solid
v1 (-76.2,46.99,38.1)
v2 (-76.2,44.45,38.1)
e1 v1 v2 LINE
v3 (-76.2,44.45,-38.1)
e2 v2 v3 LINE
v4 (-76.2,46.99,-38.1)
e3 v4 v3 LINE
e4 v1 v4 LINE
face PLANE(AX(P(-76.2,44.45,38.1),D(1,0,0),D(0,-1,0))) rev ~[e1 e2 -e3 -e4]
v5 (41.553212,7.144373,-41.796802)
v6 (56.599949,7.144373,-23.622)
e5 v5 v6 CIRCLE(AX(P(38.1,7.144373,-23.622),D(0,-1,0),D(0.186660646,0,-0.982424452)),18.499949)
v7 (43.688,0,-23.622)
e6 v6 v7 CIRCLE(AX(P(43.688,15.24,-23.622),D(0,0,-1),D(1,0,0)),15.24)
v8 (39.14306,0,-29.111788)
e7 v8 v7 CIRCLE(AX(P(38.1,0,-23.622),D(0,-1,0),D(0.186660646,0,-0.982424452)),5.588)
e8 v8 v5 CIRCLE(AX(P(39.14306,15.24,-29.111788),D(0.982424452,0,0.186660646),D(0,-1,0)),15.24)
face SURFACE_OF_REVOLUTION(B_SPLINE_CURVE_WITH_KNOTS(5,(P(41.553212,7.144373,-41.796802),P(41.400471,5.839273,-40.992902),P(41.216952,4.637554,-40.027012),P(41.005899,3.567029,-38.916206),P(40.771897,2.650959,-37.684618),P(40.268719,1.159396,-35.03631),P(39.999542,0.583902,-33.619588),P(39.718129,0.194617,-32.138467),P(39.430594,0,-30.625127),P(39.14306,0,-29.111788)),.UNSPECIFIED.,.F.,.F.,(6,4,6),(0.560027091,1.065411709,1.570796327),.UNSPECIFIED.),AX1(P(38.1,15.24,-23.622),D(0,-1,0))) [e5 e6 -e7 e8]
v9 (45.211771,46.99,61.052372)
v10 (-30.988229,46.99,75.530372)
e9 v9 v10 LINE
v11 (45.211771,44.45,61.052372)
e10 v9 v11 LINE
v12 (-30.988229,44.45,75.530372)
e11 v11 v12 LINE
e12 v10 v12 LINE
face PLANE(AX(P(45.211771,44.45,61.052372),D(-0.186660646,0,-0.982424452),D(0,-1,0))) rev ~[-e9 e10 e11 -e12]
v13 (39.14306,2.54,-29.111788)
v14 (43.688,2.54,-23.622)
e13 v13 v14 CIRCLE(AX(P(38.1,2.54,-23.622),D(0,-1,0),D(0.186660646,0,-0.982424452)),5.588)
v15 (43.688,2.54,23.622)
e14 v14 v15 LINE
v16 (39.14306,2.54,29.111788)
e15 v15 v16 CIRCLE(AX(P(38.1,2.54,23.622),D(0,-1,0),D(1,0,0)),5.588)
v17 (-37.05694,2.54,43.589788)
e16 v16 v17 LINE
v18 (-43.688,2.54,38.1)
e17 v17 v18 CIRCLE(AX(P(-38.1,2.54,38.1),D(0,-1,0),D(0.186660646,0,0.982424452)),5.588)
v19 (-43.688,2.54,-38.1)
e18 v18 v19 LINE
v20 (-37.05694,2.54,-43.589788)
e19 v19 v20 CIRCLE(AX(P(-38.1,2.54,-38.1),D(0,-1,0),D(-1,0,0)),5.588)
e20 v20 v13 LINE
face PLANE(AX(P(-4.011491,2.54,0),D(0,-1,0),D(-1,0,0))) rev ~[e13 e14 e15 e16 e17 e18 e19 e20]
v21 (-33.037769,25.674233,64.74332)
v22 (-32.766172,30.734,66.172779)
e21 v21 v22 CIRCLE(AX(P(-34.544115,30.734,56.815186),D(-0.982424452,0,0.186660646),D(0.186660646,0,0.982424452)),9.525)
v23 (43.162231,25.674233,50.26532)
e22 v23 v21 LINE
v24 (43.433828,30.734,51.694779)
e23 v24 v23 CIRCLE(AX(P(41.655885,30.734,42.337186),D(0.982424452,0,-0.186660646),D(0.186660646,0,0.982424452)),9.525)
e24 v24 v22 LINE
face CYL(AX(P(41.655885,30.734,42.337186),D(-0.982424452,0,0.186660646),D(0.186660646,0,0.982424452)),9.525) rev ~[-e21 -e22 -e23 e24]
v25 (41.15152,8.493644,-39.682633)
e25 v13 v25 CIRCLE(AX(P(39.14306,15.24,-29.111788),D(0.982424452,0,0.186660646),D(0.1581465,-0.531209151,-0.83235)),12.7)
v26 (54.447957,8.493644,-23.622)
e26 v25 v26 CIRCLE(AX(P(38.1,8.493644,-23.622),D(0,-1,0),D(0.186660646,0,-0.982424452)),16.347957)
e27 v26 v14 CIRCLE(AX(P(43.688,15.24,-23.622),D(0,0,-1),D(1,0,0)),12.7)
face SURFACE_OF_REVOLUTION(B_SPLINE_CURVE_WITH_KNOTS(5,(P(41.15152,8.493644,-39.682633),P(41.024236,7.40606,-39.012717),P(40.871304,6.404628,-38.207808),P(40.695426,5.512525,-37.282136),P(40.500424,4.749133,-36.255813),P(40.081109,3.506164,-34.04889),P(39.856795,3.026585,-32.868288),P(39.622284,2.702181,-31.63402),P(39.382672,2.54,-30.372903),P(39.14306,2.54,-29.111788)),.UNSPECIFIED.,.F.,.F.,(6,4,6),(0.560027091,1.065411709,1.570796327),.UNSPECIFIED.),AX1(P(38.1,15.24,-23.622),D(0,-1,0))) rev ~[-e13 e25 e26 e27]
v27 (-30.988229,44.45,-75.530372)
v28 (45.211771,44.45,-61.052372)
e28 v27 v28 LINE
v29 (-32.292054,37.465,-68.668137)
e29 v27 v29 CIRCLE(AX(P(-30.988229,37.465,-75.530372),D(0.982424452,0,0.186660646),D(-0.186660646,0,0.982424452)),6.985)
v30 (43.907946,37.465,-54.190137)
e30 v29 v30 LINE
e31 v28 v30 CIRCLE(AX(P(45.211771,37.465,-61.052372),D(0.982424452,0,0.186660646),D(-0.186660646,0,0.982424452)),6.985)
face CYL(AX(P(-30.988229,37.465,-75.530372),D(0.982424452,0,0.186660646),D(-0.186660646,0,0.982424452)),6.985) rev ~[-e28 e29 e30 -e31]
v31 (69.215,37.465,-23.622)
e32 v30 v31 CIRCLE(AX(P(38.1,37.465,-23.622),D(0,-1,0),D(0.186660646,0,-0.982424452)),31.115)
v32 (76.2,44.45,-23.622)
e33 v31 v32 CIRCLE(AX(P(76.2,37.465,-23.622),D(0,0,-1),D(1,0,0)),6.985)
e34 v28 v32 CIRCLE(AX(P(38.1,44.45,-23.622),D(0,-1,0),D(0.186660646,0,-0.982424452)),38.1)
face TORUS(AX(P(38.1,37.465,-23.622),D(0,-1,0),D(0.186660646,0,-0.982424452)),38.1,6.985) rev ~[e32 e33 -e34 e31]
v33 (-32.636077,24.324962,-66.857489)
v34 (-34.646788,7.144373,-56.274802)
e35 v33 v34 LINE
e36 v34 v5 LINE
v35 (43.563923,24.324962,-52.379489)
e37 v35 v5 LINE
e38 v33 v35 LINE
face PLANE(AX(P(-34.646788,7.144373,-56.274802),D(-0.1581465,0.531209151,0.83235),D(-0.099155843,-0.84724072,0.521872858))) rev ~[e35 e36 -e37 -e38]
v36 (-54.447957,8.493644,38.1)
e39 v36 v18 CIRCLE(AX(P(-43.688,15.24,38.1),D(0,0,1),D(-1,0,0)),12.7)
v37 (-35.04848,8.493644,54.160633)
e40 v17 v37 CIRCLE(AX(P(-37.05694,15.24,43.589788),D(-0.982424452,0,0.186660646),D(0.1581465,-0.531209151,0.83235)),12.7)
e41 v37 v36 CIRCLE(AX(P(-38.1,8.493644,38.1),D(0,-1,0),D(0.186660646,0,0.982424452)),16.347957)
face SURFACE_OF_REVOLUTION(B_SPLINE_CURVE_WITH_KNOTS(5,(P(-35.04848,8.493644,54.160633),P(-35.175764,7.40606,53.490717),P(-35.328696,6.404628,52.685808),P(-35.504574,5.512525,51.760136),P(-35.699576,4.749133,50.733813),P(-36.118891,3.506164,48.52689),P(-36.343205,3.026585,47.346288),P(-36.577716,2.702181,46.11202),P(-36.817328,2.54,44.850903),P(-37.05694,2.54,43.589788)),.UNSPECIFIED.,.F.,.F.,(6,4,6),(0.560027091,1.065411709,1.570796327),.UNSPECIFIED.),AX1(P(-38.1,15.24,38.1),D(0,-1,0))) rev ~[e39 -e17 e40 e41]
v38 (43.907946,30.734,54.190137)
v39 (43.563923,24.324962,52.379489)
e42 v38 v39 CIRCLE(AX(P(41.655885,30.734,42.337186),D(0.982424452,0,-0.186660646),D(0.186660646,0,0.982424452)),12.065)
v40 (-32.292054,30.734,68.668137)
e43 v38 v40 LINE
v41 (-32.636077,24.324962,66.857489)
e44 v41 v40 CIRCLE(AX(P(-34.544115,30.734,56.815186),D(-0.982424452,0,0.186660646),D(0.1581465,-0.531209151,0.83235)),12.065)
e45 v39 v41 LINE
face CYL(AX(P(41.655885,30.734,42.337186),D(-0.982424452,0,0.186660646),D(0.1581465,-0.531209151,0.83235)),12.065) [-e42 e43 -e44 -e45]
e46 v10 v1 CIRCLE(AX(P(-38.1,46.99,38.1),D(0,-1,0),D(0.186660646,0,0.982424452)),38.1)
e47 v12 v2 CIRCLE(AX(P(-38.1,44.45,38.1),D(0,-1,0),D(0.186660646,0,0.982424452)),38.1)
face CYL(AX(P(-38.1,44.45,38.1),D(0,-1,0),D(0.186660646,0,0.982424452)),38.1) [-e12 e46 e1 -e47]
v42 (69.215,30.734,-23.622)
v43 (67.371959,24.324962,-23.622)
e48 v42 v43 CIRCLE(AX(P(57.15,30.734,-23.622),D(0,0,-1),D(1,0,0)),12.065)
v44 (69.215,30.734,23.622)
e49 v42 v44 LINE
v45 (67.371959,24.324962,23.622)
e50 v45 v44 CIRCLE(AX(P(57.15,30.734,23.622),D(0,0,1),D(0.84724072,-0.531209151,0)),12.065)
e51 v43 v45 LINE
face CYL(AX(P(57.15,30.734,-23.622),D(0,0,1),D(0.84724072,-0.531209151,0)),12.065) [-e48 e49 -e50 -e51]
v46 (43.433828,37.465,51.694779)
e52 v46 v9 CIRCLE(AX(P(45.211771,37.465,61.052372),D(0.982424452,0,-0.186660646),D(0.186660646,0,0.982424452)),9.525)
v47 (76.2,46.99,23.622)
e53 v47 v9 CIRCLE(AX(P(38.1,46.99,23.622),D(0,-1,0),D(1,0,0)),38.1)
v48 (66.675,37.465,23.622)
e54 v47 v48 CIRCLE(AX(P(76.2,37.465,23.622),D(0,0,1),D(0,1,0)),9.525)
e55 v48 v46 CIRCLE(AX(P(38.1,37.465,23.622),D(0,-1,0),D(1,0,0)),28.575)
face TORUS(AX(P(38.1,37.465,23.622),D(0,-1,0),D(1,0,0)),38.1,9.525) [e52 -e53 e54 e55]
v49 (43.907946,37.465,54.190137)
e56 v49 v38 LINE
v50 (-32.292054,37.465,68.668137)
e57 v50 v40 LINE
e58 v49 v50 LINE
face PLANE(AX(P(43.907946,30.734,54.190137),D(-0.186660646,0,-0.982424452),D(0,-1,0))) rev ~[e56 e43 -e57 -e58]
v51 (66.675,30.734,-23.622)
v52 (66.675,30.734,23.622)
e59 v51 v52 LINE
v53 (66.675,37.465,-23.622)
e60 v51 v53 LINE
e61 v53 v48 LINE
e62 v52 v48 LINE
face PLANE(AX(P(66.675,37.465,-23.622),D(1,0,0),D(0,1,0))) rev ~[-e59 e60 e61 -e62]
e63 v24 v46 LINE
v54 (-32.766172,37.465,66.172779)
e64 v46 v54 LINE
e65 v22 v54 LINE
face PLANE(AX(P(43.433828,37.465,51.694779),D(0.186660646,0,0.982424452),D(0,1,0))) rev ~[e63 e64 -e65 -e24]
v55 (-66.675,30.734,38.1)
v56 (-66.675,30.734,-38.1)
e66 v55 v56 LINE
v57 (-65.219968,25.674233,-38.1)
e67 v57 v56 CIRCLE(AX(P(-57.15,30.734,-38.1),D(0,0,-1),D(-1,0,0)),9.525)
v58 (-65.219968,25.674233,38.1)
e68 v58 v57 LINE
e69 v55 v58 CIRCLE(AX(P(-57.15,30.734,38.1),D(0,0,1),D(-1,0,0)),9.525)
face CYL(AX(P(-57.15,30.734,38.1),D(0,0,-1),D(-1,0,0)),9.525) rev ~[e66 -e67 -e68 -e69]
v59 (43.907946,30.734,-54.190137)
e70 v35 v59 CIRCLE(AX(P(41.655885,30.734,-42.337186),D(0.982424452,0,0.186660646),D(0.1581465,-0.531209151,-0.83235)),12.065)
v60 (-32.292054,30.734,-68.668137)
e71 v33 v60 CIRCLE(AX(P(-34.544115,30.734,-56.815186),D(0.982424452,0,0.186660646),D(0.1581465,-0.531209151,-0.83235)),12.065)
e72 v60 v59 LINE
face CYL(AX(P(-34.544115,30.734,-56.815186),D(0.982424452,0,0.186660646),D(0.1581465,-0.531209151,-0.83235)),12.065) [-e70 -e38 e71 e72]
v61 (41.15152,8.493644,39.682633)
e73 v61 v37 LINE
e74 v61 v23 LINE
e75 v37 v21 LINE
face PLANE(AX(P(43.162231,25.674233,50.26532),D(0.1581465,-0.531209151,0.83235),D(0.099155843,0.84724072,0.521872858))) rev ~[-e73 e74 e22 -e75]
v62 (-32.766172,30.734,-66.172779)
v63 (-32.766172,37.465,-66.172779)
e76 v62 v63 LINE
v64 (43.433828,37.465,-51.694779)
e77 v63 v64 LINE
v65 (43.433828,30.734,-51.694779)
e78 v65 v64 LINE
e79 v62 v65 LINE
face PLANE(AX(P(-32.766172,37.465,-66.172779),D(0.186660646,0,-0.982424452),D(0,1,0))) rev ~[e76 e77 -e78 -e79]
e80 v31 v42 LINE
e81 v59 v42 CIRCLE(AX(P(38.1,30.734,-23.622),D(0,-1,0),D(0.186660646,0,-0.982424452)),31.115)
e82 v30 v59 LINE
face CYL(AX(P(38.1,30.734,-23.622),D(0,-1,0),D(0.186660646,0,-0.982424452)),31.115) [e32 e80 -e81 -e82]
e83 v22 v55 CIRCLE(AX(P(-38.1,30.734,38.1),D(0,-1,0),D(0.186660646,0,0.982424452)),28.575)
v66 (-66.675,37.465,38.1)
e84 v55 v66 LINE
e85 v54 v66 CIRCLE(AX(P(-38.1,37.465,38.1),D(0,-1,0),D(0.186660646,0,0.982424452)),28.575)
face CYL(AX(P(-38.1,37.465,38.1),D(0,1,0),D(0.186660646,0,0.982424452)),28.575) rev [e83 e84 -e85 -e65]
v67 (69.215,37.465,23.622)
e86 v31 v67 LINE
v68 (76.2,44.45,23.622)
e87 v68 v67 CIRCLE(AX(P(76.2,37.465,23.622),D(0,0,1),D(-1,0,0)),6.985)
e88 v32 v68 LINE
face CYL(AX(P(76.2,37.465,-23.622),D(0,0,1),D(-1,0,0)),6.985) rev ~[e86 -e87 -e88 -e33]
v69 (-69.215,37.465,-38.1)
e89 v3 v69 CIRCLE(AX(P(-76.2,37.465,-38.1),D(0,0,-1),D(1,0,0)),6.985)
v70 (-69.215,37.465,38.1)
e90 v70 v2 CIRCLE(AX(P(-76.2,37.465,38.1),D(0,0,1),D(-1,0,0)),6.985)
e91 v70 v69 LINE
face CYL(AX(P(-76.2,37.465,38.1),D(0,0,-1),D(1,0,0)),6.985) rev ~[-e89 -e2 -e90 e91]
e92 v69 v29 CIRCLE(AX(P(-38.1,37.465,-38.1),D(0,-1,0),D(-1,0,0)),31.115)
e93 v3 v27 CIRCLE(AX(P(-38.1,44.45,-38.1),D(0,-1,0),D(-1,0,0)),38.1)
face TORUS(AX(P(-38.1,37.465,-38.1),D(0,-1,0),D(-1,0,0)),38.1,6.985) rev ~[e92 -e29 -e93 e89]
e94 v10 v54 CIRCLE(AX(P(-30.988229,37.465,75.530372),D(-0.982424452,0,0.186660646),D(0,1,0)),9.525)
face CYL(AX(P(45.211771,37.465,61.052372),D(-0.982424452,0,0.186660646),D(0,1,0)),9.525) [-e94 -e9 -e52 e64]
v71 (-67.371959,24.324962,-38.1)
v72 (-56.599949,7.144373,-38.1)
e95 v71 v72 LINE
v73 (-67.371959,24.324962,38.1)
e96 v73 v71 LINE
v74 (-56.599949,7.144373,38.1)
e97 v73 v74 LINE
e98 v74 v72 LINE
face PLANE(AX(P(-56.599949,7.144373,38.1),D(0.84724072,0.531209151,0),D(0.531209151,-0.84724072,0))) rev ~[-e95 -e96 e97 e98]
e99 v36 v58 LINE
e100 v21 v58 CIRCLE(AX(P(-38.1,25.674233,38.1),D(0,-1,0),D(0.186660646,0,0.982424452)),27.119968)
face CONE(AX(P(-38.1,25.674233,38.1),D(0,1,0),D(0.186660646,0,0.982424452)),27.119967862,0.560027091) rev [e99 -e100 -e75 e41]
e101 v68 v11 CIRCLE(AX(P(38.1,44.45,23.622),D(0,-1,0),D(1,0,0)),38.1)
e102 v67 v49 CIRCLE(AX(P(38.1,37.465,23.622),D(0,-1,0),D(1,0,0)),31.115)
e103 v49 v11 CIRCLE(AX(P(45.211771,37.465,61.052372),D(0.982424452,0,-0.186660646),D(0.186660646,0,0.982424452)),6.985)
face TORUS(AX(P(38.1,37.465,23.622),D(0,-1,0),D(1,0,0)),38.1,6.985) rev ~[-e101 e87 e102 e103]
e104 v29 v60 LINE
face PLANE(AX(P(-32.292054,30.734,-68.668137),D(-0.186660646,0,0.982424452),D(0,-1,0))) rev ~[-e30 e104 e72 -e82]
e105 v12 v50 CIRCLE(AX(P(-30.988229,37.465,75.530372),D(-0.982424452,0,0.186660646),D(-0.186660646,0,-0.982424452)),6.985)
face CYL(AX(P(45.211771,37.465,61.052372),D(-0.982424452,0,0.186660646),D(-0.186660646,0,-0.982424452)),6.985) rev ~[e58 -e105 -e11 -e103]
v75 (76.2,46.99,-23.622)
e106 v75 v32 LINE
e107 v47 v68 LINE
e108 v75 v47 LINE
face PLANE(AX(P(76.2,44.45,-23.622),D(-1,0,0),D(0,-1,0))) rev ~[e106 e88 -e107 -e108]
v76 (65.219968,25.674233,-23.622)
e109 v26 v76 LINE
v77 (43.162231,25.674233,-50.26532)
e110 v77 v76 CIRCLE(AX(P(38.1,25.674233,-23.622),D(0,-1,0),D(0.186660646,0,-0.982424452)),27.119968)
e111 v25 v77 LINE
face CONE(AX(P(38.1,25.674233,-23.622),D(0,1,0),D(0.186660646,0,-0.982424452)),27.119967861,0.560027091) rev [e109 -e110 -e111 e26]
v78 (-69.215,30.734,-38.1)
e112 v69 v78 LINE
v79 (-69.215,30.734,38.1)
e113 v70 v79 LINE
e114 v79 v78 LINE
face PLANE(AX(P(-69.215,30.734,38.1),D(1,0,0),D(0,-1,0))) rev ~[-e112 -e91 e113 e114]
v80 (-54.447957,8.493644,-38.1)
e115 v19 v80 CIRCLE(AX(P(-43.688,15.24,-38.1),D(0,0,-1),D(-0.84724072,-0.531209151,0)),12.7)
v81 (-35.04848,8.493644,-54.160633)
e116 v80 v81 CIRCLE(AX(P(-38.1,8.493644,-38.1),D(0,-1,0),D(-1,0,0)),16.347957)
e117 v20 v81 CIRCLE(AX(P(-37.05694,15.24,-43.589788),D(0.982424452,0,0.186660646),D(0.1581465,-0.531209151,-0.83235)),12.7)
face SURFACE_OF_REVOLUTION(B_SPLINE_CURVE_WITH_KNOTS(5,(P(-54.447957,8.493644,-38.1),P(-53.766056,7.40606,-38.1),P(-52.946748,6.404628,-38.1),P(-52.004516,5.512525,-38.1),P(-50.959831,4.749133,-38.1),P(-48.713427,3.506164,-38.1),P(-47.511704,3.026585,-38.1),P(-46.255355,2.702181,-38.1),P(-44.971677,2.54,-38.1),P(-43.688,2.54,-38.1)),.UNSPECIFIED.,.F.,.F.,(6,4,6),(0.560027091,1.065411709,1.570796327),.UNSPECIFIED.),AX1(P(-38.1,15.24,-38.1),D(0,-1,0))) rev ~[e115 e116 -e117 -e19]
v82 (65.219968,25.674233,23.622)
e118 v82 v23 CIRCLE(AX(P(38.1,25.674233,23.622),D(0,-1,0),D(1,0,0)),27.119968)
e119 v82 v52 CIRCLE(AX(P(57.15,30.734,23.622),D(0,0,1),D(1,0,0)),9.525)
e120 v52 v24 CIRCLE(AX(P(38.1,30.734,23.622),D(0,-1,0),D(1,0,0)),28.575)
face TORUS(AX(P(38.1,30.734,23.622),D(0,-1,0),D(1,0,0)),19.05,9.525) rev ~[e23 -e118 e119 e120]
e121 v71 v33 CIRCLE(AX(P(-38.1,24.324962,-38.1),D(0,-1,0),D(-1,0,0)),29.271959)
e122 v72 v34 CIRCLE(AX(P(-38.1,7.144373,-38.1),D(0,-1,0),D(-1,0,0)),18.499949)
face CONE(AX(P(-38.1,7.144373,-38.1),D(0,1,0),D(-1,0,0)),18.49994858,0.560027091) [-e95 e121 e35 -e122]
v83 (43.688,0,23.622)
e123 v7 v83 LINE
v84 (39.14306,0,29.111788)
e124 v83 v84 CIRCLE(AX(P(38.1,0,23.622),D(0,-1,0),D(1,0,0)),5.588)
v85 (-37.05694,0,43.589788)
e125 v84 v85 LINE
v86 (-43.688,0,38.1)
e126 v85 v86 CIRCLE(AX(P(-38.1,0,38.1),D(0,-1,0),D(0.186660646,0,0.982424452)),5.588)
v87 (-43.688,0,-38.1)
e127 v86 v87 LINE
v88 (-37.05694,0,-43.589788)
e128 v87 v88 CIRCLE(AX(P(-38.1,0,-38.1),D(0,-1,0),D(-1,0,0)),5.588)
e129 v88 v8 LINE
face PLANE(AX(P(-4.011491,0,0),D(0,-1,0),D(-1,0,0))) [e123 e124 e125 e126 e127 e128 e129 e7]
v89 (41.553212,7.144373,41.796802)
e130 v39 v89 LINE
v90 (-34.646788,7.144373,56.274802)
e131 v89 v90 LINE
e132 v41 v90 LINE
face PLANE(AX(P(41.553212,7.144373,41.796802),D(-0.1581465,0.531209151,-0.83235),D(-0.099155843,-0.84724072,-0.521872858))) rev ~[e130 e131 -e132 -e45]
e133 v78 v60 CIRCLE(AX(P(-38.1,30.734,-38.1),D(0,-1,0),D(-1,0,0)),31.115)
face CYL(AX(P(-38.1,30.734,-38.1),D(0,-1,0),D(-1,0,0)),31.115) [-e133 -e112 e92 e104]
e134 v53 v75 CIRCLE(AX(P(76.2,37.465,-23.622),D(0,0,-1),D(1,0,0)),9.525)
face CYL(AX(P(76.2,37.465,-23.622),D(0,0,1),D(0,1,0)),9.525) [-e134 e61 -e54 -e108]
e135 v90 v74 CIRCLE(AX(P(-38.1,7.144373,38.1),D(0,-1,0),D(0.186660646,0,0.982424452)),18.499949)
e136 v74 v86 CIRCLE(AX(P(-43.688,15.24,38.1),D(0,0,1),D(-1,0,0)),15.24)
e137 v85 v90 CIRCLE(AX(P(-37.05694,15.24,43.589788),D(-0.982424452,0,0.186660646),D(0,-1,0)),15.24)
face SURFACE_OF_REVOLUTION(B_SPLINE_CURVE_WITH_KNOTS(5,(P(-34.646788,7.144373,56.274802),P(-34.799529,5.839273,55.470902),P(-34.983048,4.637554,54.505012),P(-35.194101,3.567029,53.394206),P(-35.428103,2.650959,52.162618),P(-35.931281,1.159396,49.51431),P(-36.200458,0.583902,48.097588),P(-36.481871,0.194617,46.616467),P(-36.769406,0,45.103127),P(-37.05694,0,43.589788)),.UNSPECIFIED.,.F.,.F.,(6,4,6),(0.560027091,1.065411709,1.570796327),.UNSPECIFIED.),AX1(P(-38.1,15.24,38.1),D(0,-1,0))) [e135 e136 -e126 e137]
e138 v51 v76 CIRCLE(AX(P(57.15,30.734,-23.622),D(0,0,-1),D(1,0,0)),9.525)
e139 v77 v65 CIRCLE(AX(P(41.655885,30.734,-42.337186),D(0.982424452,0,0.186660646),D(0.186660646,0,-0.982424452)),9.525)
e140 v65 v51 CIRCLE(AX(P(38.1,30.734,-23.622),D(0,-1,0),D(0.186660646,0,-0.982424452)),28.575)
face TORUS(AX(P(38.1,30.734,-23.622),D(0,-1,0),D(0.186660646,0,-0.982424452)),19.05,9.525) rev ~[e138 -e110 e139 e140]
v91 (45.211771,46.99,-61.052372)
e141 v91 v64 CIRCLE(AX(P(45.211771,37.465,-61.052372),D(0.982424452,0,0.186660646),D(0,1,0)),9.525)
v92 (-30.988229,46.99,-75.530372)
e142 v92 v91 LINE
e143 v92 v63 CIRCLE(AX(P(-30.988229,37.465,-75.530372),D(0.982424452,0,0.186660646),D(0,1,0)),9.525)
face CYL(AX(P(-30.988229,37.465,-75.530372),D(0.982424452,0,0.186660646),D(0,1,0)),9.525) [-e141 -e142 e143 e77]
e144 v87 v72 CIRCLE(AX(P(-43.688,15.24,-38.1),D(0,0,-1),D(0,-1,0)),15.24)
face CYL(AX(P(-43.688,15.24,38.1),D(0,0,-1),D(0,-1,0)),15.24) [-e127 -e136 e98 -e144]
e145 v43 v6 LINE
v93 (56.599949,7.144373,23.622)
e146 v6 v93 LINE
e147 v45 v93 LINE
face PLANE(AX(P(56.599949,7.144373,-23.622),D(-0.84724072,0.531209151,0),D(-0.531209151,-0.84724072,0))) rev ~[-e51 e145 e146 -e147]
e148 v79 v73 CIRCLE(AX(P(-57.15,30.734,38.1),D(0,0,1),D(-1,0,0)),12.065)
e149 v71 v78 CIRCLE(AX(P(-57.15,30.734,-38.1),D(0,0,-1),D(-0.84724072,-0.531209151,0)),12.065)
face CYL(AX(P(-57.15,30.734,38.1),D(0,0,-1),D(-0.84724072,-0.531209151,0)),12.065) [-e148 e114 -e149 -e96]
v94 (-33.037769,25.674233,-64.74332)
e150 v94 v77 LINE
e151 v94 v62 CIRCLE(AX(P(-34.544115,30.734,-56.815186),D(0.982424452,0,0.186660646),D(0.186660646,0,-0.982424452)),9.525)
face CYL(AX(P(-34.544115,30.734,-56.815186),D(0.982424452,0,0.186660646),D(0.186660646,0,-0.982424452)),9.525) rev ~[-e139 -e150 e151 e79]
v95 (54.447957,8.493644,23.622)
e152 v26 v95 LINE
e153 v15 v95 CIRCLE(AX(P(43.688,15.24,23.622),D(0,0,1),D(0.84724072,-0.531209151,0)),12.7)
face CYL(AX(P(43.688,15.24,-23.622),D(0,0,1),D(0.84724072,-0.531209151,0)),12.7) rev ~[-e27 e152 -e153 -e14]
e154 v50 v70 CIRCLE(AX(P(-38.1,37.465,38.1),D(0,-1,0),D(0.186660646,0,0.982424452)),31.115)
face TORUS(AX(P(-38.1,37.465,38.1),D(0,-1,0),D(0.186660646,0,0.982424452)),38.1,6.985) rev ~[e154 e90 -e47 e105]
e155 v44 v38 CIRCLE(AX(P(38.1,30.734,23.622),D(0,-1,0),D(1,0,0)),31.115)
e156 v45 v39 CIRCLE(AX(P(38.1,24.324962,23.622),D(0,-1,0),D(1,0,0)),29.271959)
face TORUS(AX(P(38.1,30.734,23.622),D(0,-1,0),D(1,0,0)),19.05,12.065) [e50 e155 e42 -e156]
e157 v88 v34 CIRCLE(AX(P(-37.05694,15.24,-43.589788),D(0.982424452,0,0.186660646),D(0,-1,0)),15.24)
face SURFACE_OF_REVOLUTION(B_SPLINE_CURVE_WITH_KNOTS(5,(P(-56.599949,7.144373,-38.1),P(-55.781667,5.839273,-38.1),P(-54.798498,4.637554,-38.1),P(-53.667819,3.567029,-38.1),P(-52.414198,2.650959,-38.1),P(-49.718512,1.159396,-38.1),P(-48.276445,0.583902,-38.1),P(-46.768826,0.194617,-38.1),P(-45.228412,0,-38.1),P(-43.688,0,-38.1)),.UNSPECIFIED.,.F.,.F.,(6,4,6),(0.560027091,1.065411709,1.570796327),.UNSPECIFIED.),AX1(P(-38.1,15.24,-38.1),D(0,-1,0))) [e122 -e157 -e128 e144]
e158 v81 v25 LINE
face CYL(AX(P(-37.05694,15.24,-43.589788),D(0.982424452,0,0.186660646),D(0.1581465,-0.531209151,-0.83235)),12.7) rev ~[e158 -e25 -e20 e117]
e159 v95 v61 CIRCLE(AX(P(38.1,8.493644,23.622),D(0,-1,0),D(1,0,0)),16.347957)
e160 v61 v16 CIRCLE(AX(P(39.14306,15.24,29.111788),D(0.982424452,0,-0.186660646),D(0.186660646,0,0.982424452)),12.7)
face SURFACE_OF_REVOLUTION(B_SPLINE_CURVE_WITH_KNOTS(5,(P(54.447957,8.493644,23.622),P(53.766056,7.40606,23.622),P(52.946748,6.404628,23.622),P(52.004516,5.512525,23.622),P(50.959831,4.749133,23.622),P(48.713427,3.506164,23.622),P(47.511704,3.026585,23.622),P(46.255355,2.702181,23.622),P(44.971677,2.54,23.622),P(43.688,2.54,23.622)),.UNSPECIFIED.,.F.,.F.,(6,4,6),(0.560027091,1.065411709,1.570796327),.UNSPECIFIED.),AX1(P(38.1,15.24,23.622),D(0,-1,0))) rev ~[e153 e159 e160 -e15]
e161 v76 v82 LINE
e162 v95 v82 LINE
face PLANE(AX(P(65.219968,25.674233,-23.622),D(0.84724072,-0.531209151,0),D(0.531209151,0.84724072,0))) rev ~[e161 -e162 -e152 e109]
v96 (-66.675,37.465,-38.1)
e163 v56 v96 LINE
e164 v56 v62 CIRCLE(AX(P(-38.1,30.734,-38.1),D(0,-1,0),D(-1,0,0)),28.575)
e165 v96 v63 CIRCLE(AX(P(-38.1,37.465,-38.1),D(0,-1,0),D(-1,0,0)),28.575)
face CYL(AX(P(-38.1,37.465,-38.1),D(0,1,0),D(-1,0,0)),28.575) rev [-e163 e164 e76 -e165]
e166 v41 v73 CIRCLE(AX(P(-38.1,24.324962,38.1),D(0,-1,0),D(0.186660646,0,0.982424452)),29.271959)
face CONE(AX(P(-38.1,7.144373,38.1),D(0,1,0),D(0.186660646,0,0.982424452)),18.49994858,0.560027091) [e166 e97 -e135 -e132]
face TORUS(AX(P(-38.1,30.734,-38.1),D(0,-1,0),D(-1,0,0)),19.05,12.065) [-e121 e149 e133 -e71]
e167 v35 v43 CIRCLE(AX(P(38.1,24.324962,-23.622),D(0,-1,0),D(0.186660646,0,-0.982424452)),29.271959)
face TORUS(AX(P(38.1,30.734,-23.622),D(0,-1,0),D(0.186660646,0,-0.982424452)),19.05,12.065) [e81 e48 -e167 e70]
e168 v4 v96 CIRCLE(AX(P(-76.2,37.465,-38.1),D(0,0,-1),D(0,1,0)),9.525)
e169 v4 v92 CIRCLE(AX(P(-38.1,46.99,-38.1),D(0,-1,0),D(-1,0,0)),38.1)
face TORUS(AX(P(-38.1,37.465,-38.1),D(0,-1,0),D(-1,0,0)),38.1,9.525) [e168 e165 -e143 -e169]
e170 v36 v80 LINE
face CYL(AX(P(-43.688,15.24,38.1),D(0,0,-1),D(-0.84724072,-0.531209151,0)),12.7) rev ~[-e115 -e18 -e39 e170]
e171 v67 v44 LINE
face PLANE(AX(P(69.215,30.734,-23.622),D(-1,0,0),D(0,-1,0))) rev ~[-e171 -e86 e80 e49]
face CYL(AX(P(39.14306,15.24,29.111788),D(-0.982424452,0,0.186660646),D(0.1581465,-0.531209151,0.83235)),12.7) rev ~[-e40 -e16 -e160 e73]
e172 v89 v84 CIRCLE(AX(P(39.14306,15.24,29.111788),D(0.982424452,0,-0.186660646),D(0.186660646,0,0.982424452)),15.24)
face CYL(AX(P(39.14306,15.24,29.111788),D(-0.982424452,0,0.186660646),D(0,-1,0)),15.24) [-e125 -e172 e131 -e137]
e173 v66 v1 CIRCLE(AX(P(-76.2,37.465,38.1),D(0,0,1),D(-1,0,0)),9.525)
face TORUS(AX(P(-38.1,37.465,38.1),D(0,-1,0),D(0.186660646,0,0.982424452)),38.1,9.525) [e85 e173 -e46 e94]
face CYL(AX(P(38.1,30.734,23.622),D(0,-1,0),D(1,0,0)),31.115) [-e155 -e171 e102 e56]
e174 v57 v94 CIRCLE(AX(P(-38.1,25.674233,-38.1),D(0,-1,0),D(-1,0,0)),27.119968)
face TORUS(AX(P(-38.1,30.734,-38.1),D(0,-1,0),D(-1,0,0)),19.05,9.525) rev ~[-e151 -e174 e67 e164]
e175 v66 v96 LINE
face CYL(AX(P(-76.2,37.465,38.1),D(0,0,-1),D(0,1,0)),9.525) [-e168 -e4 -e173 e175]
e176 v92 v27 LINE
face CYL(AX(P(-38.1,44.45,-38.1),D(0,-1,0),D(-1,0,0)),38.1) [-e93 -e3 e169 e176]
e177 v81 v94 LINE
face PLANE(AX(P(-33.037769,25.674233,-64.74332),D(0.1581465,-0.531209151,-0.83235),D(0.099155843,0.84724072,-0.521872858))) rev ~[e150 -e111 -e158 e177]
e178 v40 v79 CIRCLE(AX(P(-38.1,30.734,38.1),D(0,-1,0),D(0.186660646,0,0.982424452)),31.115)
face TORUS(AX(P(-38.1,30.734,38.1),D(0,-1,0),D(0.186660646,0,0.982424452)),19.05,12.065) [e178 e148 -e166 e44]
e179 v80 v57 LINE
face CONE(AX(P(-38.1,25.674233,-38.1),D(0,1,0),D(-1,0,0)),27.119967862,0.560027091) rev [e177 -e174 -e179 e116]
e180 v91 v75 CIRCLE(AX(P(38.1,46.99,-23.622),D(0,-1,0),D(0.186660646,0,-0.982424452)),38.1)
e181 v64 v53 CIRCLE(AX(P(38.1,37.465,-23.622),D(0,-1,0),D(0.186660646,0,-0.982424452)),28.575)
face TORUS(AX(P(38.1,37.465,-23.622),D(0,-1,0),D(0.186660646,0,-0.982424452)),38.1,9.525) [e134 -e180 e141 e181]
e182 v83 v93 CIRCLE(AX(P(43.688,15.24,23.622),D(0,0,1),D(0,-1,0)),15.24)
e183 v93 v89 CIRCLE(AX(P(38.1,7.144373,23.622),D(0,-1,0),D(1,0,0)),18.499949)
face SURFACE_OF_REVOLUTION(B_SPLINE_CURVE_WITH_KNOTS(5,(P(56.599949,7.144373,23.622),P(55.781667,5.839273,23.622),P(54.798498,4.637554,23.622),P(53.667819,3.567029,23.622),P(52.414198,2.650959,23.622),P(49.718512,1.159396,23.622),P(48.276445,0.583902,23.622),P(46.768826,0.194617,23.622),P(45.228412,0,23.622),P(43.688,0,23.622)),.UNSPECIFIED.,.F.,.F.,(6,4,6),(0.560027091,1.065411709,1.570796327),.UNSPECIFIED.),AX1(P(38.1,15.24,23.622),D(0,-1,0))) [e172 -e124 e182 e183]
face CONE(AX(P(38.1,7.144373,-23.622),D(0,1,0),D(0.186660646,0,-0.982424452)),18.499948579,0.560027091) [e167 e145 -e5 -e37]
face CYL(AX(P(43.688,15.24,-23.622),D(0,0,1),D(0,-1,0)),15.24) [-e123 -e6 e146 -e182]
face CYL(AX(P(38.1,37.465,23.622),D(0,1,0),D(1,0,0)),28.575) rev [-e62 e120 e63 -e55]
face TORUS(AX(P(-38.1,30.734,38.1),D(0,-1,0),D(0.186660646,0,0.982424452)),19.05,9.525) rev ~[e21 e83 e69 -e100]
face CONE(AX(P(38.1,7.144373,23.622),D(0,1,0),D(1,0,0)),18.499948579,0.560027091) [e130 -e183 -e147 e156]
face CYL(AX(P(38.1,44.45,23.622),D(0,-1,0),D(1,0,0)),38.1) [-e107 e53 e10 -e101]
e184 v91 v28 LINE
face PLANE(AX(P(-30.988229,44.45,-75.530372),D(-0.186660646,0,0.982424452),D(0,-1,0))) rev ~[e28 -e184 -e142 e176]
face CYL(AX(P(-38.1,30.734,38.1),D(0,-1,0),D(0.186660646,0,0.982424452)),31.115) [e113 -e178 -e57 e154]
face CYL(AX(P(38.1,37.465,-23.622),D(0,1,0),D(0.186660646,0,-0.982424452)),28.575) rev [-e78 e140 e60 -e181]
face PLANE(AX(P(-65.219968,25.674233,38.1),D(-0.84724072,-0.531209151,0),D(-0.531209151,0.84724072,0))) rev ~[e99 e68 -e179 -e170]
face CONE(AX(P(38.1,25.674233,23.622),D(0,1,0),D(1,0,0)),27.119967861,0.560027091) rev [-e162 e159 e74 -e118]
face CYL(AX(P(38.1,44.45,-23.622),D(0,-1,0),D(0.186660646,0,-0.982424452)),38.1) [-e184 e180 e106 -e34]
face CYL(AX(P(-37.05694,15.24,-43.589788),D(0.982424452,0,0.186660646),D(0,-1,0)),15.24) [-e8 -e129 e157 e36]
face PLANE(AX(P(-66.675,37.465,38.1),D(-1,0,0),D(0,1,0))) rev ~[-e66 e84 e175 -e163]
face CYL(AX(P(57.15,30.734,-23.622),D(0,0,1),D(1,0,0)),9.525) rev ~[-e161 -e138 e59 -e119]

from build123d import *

# Parameters (mm, degrees)
BOSS_EXTRUDE2_START = 2.54
BOSS_EXTRUDE2_DEPTH = 2.54


with BuildPart() as part:
    # Sweep1: sweep along a path in Sketch3
    with BuildLine(Plane(origin=(0, 0, 0), x_dir=(1, 0, 0), z_dir=(0, 1, 0))) as sweep1_path:
        Line((-30.988229394, 75.53037161), (45.211770606, 61.05237161))
        ThreePointArc((45.211770606, 61.05237161), (67.44764437, 47.918620546), (76.2, 23.622))
        Line((76.2, 23.622), (76.2, -23.622))
        ThreePointArc((76.2, -23.622), (67.44764437, -47.918620546), (45.211770606, -61.05237161))
        Line((45.211770606, -61.05237161), (-30.988229394, -75.53037161))
        ThreePointArc((-30.988229394, -75.53037161), (-62.396620546, -67.44764437), (-76.2, -38.1))
        Line((-76.2, -38.1), (-76.2, 38.1))
        ThreePointArc((-76.2, 38.1), (-62.396620546, 67.44764437), (-30.988229394, 75.53037161))
    # Sketch2 → Sweep1 (sweep)
    with BuildSketch(Plane.XY):
        with BuildLine():
            Line((-66.675, 37.465), (-66.675, 30.734))
            ThreePointArc((-66.675, 30.734), (-66.304017394, 28.101588452), (-65.219967862, 25.674232841))
            Line((-65.219967862, 25.674232841), (-54.44795715, 8.493643788))
            ThreePointArc((-54.44795715, 8.493643788), (-49.836628957, 4.127648226), (-43.688, 2.54))
            Line((-43.688, 2.54), (-43.688, 0))
            ThreePointArc((-43.688, 0), (-51.066354749, 1.905177871), (-56.59994858, 7.144372546))
            Line((-56.59994858, 7.144372546), (-67.371959292, 24.324961599))
            ThreePointArc((-67.371959292, 24.324961599), (-68.745088699, 27.39961204), (-69.215, 30.734))
            Line((-69.215, 30.734), (-69.215, 37.465))
            ThreePointArc((-69.215, 37.465), (-71.260859133, 42.404140867), (-76.2, 44.45))
            Line((-76.2, 44.45), (-76.2, 46.99))
            ThreePointArc((-76.2, 46.99), (-69.464807909, 44.200192091), (-66.675, 37.465))
        make_face()
    sweep(path=sweep1_path.line)

    # Sketch5 → Boss-Extrude2 (add)
    with BuildSketch(Plane(origin=(0, 0, 0), x_dir=(1, 0, 0), z_dir=(0, 1, 0)).offset(BOSS_EXTRUDE2_START)):
        with BuildLine():
            Line((43.688, 23.622), (43.688, -23.622))
            ThreePointArc((43.688, -23.622), (42.404321174, -27.185504347), (39.143059689, -29.111787836))
            Line((39.143059689, -29.111787836), (-37.056940311, -43.589787836))
            ThreePointArc((-37.056940311, -43.589787836), (-41.663504347, -42.404321174), (-43.688, -38.1))
            Line((-43.688, -38.1), (-43.688, 0))
            Line((-43.688, 0), (-43.688, 38.1))
            ThreePointArc((-43.688, 38.1), (-41.663504347, 42.404321174), (-37.056940311, 43.589787836))
            Line((-37.056940311, 43.589787836), (39.143059689, 29.111787836))
            ThreePointArc((39.143059689, 29.111787836), (42.404321174, 27.185504347), (43.688, 23.622))
        make_face()
    extrude(amount=-BOSS_EXTRUDE2_DEPTH)


solid = part.part
